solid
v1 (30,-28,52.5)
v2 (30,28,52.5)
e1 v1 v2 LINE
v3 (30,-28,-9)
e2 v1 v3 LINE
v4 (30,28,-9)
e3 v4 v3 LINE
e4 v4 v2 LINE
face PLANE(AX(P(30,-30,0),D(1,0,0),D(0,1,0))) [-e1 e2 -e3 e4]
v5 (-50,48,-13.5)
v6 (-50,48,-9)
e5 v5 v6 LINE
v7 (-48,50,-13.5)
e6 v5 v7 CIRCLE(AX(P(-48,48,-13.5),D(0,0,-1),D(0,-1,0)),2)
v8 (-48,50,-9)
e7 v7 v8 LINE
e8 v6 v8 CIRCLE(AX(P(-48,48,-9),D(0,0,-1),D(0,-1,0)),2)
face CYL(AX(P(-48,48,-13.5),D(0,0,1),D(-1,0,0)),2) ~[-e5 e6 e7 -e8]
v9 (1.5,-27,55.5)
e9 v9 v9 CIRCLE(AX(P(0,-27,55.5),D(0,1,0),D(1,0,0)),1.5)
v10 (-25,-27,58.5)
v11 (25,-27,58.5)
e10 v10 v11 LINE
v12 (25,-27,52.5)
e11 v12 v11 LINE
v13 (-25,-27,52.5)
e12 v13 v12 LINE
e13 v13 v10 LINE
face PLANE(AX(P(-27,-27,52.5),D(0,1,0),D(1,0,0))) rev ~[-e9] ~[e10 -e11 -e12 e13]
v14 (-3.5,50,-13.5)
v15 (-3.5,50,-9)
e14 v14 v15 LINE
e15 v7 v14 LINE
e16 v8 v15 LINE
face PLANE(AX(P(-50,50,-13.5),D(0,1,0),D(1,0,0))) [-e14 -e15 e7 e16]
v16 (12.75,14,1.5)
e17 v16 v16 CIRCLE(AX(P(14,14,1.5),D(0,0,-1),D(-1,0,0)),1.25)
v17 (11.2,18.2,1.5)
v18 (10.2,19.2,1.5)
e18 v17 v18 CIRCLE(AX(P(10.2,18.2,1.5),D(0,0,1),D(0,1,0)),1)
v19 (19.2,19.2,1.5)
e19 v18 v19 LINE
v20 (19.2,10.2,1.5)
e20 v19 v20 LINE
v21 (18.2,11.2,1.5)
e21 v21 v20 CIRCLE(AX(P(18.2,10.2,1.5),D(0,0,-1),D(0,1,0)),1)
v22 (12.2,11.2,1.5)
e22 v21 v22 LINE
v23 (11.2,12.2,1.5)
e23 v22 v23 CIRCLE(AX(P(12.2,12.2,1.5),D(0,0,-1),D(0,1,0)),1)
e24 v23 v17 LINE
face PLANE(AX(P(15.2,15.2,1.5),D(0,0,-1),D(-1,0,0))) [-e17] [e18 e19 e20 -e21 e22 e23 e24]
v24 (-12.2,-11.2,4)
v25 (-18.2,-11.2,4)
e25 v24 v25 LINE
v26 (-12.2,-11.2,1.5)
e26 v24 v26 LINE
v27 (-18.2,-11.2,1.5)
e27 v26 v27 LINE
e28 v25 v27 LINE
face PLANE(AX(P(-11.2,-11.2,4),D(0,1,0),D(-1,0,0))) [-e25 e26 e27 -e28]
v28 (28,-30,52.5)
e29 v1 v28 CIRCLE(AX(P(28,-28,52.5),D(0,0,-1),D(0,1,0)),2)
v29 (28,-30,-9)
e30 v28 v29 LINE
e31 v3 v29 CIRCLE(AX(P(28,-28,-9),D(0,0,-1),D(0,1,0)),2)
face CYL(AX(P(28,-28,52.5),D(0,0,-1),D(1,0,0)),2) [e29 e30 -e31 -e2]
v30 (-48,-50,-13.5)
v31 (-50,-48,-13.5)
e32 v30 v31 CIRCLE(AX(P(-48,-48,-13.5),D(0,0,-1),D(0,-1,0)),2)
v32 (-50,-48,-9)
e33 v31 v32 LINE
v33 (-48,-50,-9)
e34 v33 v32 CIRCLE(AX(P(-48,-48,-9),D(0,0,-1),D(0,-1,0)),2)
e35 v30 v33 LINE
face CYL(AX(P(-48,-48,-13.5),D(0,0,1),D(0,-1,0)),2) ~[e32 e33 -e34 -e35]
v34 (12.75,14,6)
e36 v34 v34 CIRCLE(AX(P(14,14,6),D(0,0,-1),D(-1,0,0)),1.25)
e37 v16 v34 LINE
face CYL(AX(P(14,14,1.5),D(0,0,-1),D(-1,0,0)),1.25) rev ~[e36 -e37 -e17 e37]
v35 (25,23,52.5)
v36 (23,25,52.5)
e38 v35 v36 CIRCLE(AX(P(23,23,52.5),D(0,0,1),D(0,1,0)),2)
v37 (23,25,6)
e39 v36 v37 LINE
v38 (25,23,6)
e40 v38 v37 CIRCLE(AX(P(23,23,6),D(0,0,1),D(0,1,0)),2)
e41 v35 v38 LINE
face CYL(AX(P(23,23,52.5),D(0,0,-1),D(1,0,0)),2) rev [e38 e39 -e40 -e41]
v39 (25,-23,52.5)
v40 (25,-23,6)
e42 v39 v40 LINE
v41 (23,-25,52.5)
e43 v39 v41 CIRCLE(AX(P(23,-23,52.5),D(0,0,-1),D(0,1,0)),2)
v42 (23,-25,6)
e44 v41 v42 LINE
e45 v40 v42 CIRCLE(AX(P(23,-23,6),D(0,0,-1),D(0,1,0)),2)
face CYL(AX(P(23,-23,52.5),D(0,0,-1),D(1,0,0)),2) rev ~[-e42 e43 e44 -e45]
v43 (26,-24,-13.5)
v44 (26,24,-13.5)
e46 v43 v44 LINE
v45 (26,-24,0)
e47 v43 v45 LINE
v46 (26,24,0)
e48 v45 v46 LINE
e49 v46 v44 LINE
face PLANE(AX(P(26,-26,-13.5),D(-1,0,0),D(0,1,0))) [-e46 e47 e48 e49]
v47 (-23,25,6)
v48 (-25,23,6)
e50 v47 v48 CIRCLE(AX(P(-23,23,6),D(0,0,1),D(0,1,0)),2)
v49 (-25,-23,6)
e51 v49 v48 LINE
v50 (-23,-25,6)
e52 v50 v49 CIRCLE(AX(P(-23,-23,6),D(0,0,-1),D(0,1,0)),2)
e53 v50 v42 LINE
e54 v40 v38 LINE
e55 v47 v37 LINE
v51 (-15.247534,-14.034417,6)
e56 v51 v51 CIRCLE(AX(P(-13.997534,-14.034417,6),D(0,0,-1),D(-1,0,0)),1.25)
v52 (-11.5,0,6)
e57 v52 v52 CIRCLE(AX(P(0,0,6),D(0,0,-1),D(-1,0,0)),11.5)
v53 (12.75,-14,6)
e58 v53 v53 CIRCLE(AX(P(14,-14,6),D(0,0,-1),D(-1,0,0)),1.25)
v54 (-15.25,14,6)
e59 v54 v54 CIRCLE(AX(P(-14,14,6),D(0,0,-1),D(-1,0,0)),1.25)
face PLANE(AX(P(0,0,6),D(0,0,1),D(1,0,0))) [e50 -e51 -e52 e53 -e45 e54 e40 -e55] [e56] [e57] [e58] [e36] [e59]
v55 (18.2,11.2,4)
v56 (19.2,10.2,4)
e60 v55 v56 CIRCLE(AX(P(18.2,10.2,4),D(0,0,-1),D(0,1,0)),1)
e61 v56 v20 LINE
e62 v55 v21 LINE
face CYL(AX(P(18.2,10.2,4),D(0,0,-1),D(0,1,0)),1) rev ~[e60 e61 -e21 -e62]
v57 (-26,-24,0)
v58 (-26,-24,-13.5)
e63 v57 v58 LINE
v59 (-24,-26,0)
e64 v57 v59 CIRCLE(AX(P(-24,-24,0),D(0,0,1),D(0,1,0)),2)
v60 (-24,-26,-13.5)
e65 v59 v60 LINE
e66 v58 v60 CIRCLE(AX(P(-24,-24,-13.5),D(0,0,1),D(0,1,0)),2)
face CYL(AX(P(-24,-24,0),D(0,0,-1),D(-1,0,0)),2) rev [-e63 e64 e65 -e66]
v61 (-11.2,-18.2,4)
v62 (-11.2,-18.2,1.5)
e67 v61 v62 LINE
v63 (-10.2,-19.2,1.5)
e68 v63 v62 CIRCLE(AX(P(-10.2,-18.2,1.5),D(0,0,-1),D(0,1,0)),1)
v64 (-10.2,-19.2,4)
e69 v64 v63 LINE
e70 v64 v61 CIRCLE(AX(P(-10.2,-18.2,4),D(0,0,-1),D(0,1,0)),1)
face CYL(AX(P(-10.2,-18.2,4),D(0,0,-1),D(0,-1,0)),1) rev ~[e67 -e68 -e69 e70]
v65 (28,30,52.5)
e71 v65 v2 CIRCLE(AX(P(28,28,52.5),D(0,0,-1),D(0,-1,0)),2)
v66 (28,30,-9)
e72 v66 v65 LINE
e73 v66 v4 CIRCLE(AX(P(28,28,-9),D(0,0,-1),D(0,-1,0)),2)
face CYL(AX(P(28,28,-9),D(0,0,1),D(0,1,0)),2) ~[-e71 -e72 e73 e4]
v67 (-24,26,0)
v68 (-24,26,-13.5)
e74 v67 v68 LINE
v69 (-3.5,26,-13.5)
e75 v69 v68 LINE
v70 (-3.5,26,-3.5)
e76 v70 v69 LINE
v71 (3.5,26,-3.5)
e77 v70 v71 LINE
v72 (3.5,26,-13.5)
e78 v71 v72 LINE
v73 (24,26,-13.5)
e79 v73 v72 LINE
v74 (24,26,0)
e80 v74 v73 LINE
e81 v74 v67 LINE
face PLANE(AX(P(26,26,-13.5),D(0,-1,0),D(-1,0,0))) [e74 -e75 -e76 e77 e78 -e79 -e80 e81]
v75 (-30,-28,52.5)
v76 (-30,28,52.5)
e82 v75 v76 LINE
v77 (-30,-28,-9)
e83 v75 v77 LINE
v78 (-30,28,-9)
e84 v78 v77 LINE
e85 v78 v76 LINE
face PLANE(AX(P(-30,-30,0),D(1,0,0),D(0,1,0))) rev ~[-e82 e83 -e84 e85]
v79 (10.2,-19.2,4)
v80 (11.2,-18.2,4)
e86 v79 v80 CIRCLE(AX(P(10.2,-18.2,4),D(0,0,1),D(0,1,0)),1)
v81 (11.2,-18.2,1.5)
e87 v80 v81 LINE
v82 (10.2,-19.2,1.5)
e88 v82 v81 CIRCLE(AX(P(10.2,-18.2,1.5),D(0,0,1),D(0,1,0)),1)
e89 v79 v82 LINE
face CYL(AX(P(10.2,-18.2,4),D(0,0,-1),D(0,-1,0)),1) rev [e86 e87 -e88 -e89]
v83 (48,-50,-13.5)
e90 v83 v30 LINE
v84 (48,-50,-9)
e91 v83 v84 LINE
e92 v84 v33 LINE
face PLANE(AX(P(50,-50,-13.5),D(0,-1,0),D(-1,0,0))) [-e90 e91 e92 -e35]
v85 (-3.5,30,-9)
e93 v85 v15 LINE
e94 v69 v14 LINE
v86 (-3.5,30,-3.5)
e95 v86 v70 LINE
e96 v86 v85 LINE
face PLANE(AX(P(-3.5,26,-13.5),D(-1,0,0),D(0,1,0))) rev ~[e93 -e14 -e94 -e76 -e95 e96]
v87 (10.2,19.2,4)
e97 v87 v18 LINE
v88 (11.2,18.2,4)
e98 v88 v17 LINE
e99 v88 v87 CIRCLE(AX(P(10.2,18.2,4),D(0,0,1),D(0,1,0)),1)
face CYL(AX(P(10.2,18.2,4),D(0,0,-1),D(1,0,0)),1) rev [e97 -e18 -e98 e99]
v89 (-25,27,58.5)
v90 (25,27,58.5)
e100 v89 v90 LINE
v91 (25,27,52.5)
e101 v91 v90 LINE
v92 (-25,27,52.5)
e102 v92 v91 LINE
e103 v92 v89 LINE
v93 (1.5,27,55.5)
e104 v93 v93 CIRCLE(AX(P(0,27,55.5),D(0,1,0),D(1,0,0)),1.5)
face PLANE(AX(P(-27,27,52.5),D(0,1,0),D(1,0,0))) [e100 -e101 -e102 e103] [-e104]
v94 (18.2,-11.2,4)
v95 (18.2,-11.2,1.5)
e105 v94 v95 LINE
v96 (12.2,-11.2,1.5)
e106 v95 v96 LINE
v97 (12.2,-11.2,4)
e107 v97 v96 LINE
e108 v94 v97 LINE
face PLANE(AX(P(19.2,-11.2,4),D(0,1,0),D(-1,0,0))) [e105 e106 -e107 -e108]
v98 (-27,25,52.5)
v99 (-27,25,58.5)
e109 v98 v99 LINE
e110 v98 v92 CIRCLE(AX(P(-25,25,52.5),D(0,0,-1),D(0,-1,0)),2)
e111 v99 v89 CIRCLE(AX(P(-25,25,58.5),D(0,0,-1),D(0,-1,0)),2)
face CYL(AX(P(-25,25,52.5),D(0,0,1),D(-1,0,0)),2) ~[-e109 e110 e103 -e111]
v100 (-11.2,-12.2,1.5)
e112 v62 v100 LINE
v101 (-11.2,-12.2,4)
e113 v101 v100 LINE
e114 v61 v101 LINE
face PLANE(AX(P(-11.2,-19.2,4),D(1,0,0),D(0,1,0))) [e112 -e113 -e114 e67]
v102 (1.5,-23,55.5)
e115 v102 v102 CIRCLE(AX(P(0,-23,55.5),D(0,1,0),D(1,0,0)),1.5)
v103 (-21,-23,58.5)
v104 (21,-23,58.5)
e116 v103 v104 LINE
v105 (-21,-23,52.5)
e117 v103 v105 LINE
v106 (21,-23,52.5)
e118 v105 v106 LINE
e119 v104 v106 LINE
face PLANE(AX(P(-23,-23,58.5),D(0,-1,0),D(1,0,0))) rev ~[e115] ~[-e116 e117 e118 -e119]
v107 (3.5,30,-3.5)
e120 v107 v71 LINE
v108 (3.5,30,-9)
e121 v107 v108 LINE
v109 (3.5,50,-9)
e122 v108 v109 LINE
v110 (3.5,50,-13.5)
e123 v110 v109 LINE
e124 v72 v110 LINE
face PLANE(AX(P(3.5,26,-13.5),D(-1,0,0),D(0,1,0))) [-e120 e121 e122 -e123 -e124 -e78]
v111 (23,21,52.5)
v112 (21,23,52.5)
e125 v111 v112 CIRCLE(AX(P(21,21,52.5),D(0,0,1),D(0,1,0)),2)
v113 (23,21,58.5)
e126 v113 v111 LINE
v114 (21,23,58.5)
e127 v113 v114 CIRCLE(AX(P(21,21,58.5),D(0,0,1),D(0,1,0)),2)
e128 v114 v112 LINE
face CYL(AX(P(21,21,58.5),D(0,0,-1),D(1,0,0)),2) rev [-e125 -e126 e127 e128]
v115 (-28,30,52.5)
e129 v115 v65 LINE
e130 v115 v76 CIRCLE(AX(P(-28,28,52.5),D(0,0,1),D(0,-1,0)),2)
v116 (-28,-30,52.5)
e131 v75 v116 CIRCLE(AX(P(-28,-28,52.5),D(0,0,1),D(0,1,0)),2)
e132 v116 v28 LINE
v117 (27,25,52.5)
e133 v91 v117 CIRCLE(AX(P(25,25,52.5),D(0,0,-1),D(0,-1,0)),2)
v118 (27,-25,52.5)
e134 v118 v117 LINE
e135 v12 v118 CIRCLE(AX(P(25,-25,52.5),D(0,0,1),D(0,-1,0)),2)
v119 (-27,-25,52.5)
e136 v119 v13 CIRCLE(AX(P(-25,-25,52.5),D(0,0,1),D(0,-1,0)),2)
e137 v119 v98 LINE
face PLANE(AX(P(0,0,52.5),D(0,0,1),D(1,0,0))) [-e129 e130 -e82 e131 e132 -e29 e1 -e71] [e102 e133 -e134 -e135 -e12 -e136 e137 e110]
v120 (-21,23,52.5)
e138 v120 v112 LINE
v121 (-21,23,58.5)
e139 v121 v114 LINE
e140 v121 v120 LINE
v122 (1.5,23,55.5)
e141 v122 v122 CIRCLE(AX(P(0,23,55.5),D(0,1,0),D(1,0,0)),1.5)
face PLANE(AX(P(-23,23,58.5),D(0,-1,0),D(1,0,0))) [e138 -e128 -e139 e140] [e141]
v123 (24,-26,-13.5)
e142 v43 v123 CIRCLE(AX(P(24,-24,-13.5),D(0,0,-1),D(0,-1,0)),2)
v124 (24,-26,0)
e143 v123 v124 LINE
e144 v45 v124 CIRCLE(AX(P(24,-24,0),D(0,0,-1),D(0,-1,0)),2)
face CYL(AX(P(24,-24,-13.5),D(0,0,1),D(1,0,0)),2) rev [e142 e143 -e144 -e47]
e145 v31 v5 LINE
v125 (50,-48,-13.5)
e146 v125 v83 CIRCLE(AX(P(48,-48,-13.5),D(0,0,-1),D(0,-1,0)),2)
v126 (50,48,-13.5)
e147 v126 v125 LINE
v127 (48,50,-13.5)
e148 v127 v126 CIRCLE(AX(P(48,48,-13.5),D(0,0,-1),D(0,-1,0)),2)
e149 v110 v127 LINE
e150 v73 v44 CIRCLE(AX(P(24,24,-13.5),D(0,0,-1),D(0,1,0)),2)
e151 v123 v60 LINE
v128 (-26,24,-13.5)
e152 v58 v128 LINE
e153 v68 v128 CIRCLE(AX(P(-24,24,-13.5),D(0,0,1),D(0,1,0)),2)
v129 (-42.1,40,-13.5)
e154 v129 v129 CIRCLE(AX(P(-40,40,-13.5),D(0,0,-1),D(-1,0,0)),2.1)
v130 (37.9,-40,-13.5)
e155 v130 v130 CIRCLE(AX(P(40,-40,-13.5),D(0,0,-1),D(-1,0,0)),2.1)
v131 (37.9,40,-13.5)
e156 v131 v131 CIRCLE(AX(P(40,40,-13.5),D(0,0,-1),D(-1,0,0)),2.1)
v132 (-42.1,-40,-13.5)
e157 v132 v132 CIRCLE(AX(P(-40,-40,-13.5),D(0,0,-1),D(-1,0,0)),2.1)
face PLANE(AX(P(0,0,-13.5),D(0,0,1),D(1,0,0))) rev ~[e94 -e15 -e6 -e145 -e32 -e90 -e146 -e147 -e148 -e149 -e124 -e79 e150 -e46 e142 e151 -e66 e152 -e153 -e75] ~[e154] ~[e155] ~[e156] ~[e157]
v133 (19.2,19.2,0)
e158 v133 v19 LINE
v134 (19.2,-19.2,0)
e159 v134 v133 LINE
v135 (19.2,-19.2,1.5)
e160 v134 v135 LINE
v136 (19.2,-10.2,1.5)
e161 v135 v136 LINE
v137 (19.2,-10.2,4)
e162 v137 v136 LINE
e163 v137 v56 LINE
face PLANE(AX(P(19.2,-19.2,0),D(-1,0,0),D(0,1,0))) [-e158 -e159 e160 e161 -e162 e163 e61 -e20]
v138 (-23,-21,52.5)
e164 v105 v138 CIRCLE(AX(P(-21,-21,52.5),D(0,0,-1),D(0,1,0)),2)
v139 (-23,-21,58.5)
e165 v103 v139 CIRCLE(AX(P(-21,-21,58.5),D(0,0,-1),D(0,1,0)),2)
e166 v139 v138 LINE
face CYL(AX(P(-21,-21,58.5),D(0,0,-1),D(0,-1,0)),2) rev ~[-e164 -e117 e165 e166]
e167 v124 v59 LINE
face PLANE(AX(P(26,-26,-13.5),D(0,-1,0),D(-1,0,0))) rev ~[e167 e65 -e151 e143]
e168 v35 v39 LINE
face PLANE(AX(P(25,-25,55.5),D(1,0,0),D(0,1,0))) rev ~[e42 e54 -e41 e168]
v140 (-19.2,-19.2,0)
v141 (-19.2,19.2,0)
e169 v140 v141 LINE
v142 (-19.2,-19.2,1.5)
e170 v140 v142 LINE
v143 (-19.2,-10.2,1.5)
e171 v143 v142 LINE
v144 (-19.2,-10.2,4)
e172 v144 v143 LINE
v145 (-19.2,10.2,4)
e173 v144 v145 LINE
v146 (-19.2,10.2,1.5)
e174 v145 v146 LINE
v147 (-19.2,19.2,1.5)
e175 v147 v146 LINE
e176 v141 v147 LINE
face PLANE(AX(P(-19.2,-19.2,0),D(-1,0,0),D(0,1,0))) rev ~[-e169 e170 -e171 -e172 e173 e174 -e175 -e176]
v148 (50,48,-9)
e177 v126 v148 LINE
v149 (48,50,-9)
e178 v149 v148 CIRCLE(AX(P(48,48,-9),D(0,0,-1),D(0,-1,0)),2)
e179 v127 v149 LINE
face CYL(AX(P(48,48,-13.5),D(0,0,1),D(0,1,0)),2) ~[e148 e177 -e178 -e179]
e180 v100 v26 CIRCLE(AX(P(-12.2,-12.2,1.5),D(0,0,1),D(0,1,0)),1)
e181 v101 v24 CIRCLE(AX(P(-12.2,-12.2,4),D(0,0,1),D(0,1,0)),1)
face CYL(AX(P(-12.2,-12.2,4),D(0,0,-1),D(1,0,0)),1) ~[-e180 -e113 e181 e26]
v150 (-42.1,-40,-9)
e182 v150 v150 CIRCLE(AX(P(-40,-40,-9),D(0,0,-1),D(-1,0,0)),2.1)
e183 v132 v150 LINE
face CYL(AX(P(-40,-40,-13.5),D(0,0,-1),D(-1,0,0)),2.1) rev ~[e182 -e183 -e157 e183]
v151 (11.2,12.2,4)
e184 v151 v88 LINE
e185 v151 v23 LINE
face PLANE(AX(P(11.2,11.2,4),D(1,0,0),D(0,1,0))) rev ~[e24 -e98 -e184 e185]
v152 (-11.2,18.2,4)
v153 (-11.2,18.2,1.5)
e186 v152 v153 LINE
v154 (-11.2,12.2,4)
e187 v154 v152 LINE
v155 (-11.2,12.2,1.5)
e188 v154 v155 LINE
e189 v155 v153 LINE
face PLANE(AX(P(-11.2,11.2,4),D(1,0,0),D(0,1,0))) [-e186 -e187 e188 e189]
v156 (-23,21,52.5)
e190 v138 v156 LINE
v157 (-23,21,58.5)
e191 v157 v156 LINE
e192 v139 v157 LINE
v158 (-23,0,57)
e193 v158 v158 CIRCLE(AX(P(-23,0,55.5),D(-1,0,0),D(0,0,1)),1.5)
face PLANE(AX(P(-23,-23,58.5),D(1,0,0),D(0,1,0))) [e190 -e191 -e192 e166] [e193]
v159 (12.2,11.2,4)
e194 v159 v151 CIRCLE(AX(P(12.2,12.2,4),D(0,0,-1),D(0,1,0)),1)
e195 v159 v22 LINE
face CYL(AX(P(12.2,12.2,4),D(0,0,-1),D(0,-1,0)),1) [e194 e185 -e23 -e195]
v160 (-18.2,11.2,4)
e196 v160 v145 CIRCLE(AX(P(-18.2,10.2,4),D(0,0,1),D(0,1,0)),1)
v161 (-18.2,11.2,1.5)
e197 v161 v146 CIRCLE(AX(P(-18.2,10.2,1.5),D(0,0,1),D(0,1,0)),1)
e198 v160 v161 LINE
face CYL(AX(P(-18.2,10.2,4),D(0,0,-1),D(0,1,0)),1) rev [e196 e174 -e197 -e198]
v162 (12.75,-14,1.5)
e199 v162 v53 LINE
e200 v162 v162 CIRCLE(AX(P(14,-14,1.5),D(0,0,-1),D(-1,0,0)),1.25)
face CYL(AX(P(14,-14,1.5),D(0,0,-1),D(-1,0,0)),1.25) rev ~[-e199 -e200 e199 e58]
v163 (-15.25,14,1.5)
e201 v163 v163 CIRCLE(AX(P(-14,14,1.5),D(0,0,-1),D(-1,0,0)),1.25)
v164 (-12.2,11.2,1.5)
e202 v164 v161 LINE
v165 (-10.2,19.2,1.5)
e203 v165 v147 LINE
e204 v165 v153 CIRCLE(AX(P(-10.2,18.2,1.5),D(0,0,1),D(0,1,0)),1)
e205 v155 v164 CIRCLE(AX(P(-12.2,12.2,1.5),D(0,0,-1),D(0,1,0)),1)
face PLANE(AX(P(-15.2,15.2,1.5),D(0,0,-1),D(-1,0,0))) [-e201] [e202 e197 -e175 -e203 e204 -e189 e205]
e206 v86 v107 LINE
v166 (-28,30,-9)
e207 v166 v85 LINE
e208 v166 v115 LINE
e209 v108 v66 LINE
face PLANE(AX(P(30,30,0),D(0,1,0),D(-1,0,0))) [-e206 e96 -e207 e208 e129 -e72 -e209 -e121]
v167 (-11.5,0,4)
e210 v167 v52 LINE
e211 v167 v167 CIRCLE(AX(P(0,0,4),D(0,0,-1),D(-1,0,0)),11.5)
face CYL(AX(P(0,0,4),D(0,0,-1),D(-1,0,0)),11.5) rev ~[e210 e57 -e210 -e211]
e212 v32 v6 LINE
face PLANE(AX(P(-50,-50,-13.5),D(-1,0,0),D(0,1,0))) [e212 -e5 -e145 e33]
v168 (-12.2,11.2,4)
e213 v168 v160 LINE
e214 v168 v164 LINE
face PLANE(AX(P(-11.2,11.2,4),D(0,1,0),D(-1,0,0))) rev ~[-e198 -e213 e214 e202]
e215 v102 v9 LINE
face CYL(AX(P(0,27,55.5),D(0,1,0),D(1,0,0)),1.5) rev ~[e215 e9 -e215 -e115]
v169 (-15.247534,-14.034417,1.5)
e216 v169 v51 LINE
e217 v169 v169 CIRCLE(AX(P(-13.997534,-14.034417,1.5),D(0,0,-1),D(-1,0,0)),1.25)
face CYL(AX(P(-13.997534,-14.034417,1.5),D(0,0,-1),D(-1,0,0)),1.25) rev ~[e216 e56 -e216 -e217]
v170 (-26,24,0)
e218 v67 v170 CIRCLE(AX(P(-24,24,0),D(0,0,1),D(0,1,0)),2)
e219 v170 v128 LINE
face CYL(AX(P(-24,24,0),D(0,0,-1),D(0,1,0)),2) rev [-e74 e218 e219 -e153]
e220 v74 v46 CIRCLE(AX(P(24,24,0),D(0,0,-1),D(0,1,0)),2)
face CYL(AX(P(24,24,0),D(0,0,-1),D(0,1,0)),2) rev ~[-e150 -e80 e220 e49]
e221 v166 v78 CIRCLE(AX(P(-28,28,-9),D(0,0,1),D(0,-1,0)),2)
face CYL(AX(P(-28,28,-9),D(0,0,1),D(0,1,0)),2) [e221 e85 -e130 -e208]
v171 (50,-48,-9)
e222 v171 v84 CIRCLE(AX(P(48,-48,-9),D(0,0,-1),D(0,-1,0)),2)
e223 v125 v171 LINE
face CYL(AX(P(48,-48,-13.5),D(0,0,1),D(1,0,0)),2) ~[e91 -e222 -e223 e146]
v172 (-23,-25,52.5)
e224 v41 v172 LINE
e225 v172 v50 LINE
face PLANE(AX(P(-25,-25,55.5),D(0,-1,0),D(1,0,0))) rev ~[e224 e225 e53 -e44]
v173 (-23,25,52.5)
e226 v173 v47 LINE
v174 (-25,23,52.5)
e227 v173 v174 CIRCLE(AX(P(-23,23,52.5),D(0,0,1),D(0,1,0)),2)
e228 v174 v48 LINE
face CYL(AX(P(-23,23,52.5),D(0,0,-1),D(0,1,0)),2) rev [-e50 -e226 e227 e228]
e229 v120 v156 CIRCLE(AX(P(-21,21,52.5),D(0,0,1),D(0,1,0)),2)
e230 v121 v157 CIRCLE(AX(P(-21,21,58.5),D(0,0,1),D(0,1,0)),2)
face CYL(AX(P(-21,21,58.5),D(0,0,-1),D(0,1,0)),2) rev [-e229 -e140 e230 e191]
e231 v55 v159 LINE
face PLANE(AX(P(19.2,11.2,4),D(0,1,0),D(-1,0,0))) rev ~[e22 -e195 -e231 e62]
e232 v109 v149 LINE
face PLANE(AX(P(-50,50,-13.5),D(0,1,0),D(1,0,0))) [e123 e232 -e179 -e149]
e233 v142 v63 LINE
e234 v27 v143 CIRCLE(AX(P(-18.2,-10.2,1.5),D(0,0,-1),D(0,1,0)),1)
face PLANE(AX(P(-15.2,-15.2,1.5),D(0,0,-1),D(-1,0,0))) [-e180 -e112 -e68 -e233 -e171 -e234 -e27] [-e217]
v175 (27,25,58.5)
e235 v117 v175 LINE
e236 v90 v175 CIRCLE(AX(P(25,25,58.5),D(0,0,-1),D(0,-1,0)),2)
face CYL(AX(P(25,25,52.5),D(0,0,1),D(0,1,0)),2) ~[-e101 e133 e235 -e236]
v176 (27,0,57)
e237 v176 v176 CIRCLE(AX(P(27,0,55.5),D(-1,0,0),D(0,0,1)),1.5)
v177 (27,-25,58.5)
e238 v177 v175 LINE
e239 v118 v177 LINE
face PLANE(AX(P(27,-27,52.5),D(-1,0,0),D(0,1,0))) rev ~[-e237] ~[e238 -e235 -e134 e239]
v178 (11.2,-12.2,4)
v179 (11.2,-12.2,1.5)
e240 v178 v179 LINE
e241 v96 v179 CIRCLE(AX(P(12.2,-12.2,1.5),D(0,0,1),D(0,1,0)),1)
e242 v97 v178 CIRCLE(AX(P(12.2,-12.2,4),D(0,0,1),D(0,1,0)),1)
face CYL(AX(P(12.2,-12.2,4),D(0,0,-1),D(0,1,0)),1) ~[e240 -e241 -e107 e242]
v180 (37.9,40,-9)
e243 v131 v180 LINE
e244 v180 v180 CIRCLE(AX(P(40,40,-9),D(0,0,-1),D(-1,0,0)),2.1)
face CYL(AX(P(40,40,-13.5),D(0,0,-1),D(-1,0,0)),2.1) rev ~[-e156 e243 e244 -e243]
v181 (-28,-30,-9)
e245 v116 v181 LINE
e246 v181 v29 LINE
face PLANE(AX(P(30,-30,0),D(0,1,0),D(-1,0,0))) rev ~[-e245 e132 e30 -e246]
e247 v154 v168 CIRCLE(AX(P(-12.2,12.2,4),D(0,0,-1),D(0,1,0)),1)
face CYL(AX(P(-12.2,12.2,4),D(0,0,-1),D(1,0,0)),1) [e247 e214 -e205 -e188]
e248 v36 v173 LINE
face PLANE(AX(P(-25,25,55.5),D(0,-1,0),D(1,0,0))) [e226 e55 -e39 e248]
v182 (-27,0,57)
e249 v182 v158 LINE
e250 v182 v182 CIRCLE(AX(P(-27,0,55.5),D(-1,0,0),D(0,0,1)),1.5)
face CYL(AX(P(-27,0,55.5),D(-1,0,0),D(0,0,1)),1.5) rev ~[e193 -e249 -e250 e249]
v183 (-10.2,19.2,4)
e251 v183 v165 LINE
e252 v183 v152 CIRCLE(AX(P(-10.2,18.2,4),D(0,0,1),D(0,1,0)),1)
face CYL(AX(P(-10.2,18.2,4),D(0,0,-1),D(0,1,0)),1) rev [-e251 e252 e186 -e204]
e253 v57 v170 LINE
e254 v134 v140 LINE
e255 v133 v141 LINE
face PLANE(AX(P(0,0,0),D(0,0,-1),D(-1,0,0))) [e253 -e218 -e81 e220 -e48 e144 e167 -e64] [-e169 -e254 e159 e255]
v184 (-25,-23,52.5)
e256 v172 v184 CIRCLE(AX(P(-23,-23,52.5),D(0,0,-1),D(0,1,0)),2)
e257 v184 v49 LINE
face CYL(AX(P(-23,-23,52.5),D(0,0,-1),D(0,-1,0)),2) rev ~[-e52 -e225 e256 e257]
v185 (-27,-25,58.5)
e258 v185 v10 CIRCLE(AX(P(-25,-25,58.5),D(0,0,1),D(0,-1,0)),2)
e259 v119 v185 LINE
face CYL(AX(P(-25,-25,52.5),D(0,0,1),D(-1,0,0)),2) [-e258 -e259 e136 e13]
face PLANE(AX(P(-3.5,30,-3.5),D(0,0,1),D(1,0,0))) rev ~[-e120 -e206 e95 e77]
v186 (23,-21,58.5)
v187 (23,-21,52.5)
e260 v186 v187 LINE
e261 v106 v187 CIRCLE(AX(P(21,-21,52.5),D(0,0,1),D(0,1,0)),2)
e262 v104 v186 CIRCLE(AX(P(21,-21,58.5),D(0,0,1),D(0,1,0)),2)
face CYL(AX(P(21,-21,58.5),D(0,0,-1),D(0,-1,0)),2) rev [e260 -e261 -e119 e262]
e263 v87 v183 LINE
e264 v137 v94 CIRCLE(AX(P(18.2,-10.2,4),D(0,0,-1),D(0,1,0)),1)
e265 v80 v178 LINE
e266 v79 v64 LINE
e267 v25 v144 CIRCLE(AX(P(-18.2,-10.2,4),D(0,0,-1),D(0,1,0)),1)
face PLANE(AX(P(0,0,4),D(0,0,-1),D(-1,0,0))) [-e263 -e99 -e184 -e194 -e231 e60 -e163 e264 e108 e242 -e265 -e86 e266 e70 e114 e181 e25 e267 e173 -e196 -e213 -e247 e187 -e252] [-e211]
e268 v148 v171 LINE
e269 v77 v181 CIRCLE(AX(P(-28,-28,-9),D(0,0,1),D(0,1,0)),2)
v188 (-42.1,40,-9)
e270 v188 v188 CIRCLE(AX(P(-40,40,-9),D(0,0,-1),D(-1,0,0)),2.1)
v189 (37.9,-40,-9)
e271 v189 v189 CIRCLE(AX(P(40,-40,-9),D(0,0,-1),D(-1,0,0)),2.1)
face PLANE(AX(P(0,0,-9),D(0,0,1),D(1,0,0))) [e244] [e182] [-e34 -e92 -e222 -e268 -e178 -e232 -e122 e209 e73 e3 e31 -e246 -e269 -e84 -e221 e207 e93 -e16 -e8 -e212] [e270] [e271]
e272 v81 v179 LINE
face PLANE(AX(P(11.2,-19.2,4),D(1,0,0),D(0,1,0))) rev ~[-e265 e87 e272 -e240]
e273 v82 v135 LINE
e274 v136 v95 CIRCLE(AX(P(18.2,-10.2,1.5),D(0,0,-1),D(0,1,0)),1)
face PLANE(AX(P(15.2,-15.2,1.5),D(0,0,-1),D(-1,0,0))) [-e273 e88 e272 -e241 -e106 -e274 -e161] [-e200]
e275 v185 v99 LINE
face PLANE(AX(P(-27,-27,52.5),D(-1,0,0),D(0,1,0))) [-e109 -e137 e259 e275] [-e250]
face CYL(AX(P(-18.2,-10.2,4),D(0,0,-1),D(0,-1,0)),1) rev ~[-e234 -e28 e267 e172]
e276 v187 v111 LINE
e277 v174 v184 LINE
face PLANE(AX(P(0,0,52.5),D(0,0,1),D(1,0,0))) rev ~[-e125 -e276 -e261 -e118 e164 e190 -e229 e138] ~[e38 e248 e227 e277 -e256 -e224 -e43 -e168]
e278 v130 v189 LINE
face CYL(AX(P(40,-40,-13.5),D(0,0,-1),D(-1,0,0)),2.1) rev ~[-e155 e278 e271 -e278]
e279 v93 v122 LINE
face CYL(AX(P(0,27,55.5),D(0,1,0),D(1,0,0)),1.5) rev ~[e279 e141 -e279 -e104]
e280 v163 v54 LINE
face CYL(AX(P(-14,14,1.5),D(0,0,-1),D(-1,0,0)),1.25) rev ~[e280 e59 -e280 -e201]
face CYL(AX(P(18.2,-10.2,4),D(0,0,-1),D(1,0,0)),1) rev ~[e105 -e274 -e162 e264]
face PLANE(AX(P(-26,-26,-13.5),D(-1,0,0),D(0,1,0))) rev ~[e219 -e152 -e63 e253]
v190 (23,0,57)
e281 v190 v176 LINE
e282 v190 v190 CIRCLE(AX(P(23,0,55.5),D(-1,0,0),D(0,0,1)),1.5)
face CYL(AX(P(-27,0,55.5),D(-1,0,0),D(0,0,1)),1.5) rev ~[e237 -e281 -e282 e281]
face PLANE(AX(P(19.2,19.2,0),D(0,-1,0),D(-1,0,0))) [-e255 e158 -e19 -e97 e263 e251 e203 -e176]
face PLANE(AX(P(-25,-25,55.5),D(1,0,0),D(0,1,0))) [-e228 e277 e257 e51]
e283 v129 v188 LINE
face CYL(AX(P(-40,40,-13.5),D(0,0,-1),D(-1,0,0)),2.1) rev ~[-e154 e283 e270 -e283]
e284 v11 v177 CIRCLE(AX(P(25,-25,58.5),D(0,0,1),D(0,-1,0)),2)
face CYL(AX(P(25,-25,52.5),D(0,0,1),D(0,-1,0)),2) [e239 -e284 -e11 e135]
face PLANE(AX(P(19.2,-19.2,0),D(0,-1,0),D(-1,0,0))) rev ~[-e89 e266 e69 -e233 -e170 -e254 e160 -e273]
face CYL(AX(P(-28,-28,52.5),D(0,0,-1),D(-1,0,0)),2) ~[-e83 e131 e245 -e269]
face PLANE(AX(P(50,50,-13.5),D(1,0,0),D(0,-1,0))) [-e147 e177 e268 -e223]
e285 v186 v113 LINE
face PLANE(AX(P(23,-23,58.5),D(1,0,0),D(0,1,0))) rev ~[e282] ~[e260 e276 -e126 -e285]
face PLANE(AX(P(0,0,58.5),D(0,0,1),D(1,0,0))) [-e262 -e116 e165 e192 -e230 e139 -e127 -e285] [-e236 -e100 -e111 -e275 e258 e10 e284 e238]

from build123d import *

# Parameters (mm, degrees)
SKETCH_1_W                = 60
SKETCH_1_H                = 60
EXTRUDE_1_DEPTH           = 55.5
SKETCH_2_W                = 50
SKETCH_2_H                = 50
CUT_EXTRUDE_3_DEPTH       = 49.5
SKETCH_4_W                = 38.4
SKETCH_4_H                = 38.4
CUT_EXTRUDE_4_DEPTH       = 4
SKETCH_5_W                = 8
SKETCH_5_H                = 8
EXTRUDE_3_DEPTH           = 2.5
CUT_EXTRUDE_5_REACH       = 56
SKETCH_6_R                = 1.25
SKETCH_7_R                = 11.5
CUT_EXTRUDE_6_DEPTH       = 2.5
FILLET_5_R                = 1
SKETCH_12_W               = 60
SKETCH_12_H               = 60
CUT_EXTRUDE_9_DEPTH       = 3
SKETCH_17_W               = 60
SKETCH_17_H               = 60
EXTRUDE_5_DEPTH           = 13.5
SKETCH_20_W               = 54
SKETCH_20_H               = 54
EXTRUDE_6_DEPTH           = 6
SKETCH_21_W               = 46
SKETCH_21_H               = 46
CUT_EXTRUDE_18_DEPTH      = 6
FILLET_9_R                = 2
FILLET_10_R               = 2
SKETCH_24_W               = 52
SKETCH_24_H               = 52
CUT_EXTRUDE_21_DEPTH      = 13.5
CUT_EXTRUDE_22_REACH      = 62
SKETCH_25_W               = 7
SKETCH_25_H               = 20
EXTRUDE_7_DEPTH           = 4.5
SKETCH_27_W               = 52
SKETCH_27_H               = 52
CUT_EXTRUDE_24_DEPTH      = 4.5
SKETCH_28_W               = 7
SKETCH_28_H               = 24
CUT_EXTRUDE_25_DEPTH      = 4.5
CUT_EXTRUDE_26_REACH      = 74
SKETCH_29_R               = 2.1
FILLET_12_R               = 2
SKETCH_30_R               = 1.5
CUT_EXTRUDE_27_DEPTH      = 24
CUT_EXTRUDE_27_DEPTH_BACK = 78
SKETCH_31_R               = 1.5
CUT_EXTRUDE_28_DEPTH      = 24
CUT_EXTRUDE_28_DEPTH_BACK = 78
FILLET_13_R               = 2
FILLET_14_R               = 2


with BuildPart() as part:
    # 草图1 → 凸台-拉伸1 (new body)
    with BuildSketch(Plane.XY):
        Rectangle(SKETCH_1_W, SKETCH_1_H)
    extrude(amount=EXTRUDE_1_DEPTH)

    # 草图2 → 切除-拉伸3 (cut)
    with BuildSketch(Plane.XY.offset(55.5)):
        Rectangle(SKETCH_2_W, SKETCH_2_H)
    extrude(amount=-CUT_EXTRUDE_3_DEPTH, mode=Mode.SUBTRACT)

    # 草图4 → 切除-拉伸4 (cut)
    with BuildSketch(Plane(origin=(0, 0, 0), x_dir=(-1, 0, 0), z_dir=(0, 0, -1))):
        Rectangle(SKETCH_4_W, SKETCH_4_H)
    extrude(amount=-CUT_EXTRUDE_4_DEPTH, mode=Mode.SUBTRACT)

    # 草图5 → 凸台-拉伸3 (add)
    with BuildSketch(Plane(origin=(0, 0, 4), x_dir=(-1, 0, 0), z_dir=(0, 0, -1))):
        with Locations((-15.2, 15.2)):
            Rectangle(SKETCH_5_W, SKETCH_5_H)
        with Locations((15.2, 15.2)):
            Rectangle(SKETCH_5_W, SKETCH_5_H)
        with Locations((15.2, -15.2)):
            Rectangle(SKETCH_5_W, SKETCH_5_H)
        with Locations((-15.2, -15.2)):
            Rectangle(SKETCH_5_W, SKETCH_5_H)
    extrude(amount=EXTRUDE_3_DEPTH)

    # 草图6 → 切除-拉伸5 (cut, up to next)
    with BuildSketch(Plane(origin=(0, 0, 1.5), x_dir=(-1, 0, 0), z_dir=(0, 0, -1)), mode=Mode.PRIVATE) as cut_extrude_5_sk1:
        with Locations((-14, 14)):
            Circle(SKETCH_6_R)
    cut_extrude_5_tool1 = extrude(cut_extrude_5_sk1.sketch, amount=-CUT_EXTRUDE_5_REACH, mode=Mode.PRIVATE) & part.part
    add(cut_extrude_5_tool1.solids().sort_by_distance((14, 14, 1.5))[0], mode=Mode.SUBTRACT)
    # 草图6 → 切除-拉伸5 (cut, up to next)
    with BuildSketch(Plane(origin=(0, 0, 1.5), x_dir=(-1, 0, 0), z_dir=(0, 0, -1)), mode=Mode.PRIVATE) as cut_extrude_5_sk2:
        with Locations((14, 14)):
            Circle(SKETCH_6_R)
    cut_extrude_5_tool2 = extrude(cut_extrude_5_sk2.sketch, amount=-CUT_EXTRUDE_5_REACH, mode=Mode.PRIVATE) & part.part
    add(cut_extrude_5_tool2.solids().sort_by_distance((-14, 14, 1.5))[0], mode=Mode.SUBTRACT)
    # 草图6 → 切除-拉伸5 (cut, up to next)
    with BuildSketch(Plane(origin=(0, 0, 1.5), x_dir=(-1, 0, 0), z_dir=(0, 0, -1)), mode=Mode.PRIVATE) as cut_extrude_5_sk3:
        with Locations((-14, -14)):
            Circle(SKETCH_6_R)
    cut_extrude_5_tool3 = extrude(cut_extrude_5_sk3.sketch, amount=-CUT_EXTRUDE_5_REACH, mode=Mode.PRIVATE) & part.part
    add(cut_extrude_5_tool3.solids().sort_by_distance((14, -14, 1.5))[0], mode=Mode.SUBTRACT)
    # 草图6 → 切除-拉伸5 (cut, up to next)
    with BuildSketch(Plane(origin=(0, 0, 1.5), x_dir=(-1, 0, 0), z_dir=(0, 0, -1)), mode=Mode.PRIVATE) as cut_extrude_5_sk4:
        with Locations((13.997534232, -14.034417217)):
            Circle(SKETCH_6_R)
    cut_extrude_5_tool4 = extrude(cut_extrude_5_sk4.sketch, amount=-CUT_EXTRUDE_5_REACH, mode=Mode.PRIVATE) & part.part
    add(cut_extrude_5_tool4.solids().sort_by_distance((-13.997534, -14.034417, 1.5))[0], mode=Mode.SUBTRACT)

    # 草图7 → 切除-拉伸6 (cut)
    with BuildSketch(Plane(origin=(0, 0, 4), x_dir=(-1, 0, 0), z_dir=(0, 0, -1))):
        Circle(SKETCH_7_R)
    extrude(amount=-CUT_EXTRUDE_6_DEPTH, mode=Mode.SUBTRACT)

    # 圆角5
    fillet_5_edges = [part.edges().sort_by_distance(p)[0] for p in [
        (19.2, 11.2, 2.75),
        (11.2, 11.2, 2.75),
        (11.2, 19.2, 2.75),
        (-19.2, 11.2, 2.75),
        (-11.2, 19.2, 2.75),
        (-11.2, 11.2, 2.75),
        (-19.2, -11.2, 2.75),
        (-11.2, -11.2, 2.75),
        (-11.2, -19.2, 2.75),
        (19.2, -11.2, 2.75),
        (11.2, -19.2, 2.75),
        (11.2, -11.2, 2.75),
    ]]
    fillet(fillet_5_edges, radius=FILLET_5_R)

    # 草图12 → 切除-拉伸9 (cut)
    with BuildSketch(Plane.XY.offset(55.5)):
        Rectangle(SKETCH_12_W, SKETCH_12_H)
    extrude(amount=-CUT_EXTRUDE_9_DEPTH, mode=Mode.SUBTRACT)

    # 草图17 → 凸台-拉伸5 (add)
    with BuildSketch(Plane(origin=(0, 0, 0), x_dir=(-1, 0, 0), z_dir=(0, 0, -1))):
        Rectangle(SKETCH_17_W, SKETCH_17_H)
    extrude(amount=EXTRUDE_5_DEPTH)

    # 草图20 → 凸台-拉伸6 (add)
    with BuildSketch(Plane.XY.offset(52.5)):
        Rectangle(SKETCH_20_W, SKETCH_20_H)
    extrude(amount=EXTRUDE_6_DEPTH)

    # 草图21 → 切除-拉伸18 (cut)
    with BuildSketch(Plane.XY.offset(58.5)):
        Rectangle(SKETCH_21_W, SKETCH_21_H)
    extrude(amount=-CUT_EXTRUDE_18_DEPTH, mode=Mode.SUBTRACT)

    # 圆角9
    fillet_9_edges = [part.edges().sort_by_distance(p)[0] for p in [
        (25, 25, 29.25),
        (25, -25, 29.25),
        (-25, -25, 29.25),
        (-25, 25, 29.25),
        (23, 23, 55.5),
        (23, -23, 55.5),
        (-23, -23, 55.5),
        (-23, 23, 55.5),
    ]]
    fillet(fillet_9_edges, radius=FILLET_9_R)

    # 圆角10
    fillet_10_edges = [part.edges().sort_by_distance(p)[0] for p in [
        (-27, -27, 55.5),
        (27, -27, 55.5),
        (27, 27, 55.5),
        (-27, 27, 55.5),
    ]]
    fillet(fillet_10_edges, radius=FILLET_10_R)

    # 草图24 → 切除-拉伸21 (cut)
    with BuildSketch(Plane(origin=(0, 0, -13.5), x_dir=(-1, 0, 0), z_dir=(0, 0, -1))):
        Rectangle(SKETCH_24_W, SKETCH_24_H)
    extrude(amount=-CUT_EXTRUDE_21_DEPTH, mode=Mode.SUBTRACT)

    # 草图25 → 切除-拉伸22 (cut, up to next)
    with BuildSketch(Plane(origin=(0, 30, 0), x_dir=(1, 0, 0), z_dir=(0, 1, 0)), mode=Mode.PRIVATE) as cut_extrude_22_sk1:
        with Locations((0, 13.5)):
            Rectangle(SKETCH_25_W, SKETCH_25_H)
    cut_extrude_22_tool1 = extrude(cut_extrude_22_sk1.sketch, amount=-CUT_EXTRUDE_22_REACH, mode=Mode.PRIVATE) & part.part
    add(cut_extrude_22_tool1.solids().sort_by_distance((0, 30, -13.5))[0], mode=Mode.SUBTRACT)

    # 草图26 → 凸台-拉伸7 (add)
    with BuildSketch(Plane(origin=(0, 0, -13.5), x_dir=(-1, 0, 0), z_dir=(0, 0, -1))):
        Polygon((-31.5, -50), (-50, -50), (-50, 31.5), (-50, 50), (30, 50), (50, 50), (50, -31.5), (50, -50), align=None)
    extrude(amount=-EXTRUDE_7_DEPTH)

    # 草图27 → 切除-拉伸24 (cut)
    with BuildSketch(Plane(origin=(0, 0, -13.5), x_dir=(-1, 0, 0), z_dir=(0, 0, -1))):
        Rectangle(SKETCH_27_W, SKETCH_27_H)
    extrude(amount=-CUT_EXTRUDE_24_DEPTH, mode=Mode.SUBTRACT)

    # 草图28 → 切除-拉伸25 (cut)
    with BuildSketch(Plane(origin=(0, 0, -13.5), x_dir=(-1, 0, 0), z_dir=(0, 0, -1))):
        with Locations((0, 38)):
            Rectangle(SKETCH_28_W, SKETCH_28_H)
    extrude(amount=-CUT_EXTRUDE_25_DEPTH, mode=Mode.SUBTRACT)

    # 草图29 → 切除-拉伸26 (cut, up to next)
    with BuildSketch(Plane(origin=(0, 0, -13.5), x_dir=(-1, 0, 0), z_dir=(0, 0, -1)), mode=Mode.PRIVATE) as cut_extrude_26_sk1:
        with Locations((-40, 40)):
            Circle(SKETCH_29_R)
    cut_extrude_26_tool1 = extrude(cut_extrude_26_sk1.sketch, amount=-CUT_EXTRUDE_26_REACH, mode=Mode.PRIVATE) & part.part
    add(cut_extrude_26_tool1.solids().sort_by_distance((40, 40, -13.5))[0], mode=Mode.SUBTRACT)
    # 草图29 → 切除-拉伸26 (cut, up to next)
    with BuildSketch(Plane(origin=(0, 0, -13.5), x_dir=(-1, 0, 0), z_dir=(0, 0, -1)), mode=Mode.PRIVATE) as cut_extrude_26_sk2:
        with Locations((40, 40)):
            Circle(SKETCH_29_R)
    cut_extrude_26_tool2 = extrude(cut_extrude_26_sk2.sketch, amount=-CUT_EXTRUDE_26_REACH, mode=Mode.PRIVATE) & part.part
    add(cut_extrude_26_tool2.solids().sort_by_distance((-40, 40, -13.5))[0], mode=Mode.SUBTRACT)
    # 草图29 → 切除-拉伸26 (cut, up to next)
    with BuildSketch(Plane(origin=(0, 0, -13.5), x_dir=(-1, 0, 0), z_dir=(0, 0, -1)), mode=Mode.PRIVATE) as cut_extrude_26_sk3:
        with Locations((40, -40)):
            Circle(SKETCH_29_R)
    cut_extrude_26_tool3 = extrude(cut_extrude_26_sk3.sketch, amount=-CUT_EXTRUDE_26_REACH, mode=Mode.PRIVATE) & part.part
    add(cut_extrude_26_tool3.solids().sort_by_distance((-40, -40, -13.5))[0], mode=Mode.SUBTRACT)
    # 草图29 → 切除-拉伸26 (cut, up to next)
    with BuildSketch(Plane(origin=(0, 0, -13.5), x_dir=(-1, 0, 0), z_dir=(0, 0, -1)), mode=Mode.PRIVATE) as cut_extrude_26_sk4:
        with Locations((-40, -40)):
            Circle(SKETCH_29_R)
    cut_extrude_26_tool4 = extrude(cut_extrude_26_sk4.sketch, amount=-CUT_EXTRUDE_26_REACH, mode=Mode.PRIVATE) & part.part
    add(cut_extrude_26_tool4.solids().sort_by_distance((40, -40, -13.5))[0], mode=Mode.SUBTRACT)

    # 圆角12
    fillet_12_edges = [part.edges().sort_by_distance(p)[0] for p in [
        (-30, -30, 21.75),
        (-30, 30, 21.75),
        (30, 30, 21.75),
        (30, -30, 21.75),
    ]]
    fillet(fillet_12_edges, radius=FILLET_12_R)

    # 草图30 → 切除-拉伸27 (cut, two sides)
    with BuildSketch(Plane.ZY.offset(27)) as cut_extrude_27_sk:
        with Locations((55.5, 0)):
            Circle(SKETCH_30_R)
    extrude(amount=CUT_EXTRUDE_27_DEPTH, mode=Mode.SUBTRACT)
    extrude(cut_extrude_27_sk.sketch, amount=-CUT_EXTRUDE_27_DEPTH_BACK, mode=Mode.SUBTRACT)

    # 草图31 → 切除-拉伸28 (cut, two sides)
    with BuildSketch(Plane(origin=(0, 27, 0), x_dir=(1, 0, 0), z_dir=(0, 1, 0))) as cut_extrude_28_sk:
        with Locations((0, -55.5)):
            Circle(SKETCH_31_R)
    extrude(amount=CUT_EXTRUDE_28_DEPTH, mode=Mode.SUBTRACT)
    extrude(cut_extrude_28_sk.sketch, amount=-CUT_EXTRUDE_28_DEPTH_BACK, mode=Mode.SUBTRACT)

    # 圆角13
    fillet_13_edges = [part.edges().sort_by_distance(p)[0] for p in [
        (-26, 26, -6.75),
        (-26, -26, -6.75),
        (26, -26, -6.75),
        (26, 26, -6.75),
    ]]
    fillet(fillet_13_edges, radius=FILLET_13_R)

    # 圆角14
    fillet_14_edges = [part.edges().sort_by_distance(p)[0] for p in [
        (50, -50, -11.25),
        (50, 50, -11.25),
        (-50, 50, -11.25),
        (-50, -50, -11.25),
    ]]
    fillet(fillet_14_edges, radius=FILLET_14_R)


solid = part.part
